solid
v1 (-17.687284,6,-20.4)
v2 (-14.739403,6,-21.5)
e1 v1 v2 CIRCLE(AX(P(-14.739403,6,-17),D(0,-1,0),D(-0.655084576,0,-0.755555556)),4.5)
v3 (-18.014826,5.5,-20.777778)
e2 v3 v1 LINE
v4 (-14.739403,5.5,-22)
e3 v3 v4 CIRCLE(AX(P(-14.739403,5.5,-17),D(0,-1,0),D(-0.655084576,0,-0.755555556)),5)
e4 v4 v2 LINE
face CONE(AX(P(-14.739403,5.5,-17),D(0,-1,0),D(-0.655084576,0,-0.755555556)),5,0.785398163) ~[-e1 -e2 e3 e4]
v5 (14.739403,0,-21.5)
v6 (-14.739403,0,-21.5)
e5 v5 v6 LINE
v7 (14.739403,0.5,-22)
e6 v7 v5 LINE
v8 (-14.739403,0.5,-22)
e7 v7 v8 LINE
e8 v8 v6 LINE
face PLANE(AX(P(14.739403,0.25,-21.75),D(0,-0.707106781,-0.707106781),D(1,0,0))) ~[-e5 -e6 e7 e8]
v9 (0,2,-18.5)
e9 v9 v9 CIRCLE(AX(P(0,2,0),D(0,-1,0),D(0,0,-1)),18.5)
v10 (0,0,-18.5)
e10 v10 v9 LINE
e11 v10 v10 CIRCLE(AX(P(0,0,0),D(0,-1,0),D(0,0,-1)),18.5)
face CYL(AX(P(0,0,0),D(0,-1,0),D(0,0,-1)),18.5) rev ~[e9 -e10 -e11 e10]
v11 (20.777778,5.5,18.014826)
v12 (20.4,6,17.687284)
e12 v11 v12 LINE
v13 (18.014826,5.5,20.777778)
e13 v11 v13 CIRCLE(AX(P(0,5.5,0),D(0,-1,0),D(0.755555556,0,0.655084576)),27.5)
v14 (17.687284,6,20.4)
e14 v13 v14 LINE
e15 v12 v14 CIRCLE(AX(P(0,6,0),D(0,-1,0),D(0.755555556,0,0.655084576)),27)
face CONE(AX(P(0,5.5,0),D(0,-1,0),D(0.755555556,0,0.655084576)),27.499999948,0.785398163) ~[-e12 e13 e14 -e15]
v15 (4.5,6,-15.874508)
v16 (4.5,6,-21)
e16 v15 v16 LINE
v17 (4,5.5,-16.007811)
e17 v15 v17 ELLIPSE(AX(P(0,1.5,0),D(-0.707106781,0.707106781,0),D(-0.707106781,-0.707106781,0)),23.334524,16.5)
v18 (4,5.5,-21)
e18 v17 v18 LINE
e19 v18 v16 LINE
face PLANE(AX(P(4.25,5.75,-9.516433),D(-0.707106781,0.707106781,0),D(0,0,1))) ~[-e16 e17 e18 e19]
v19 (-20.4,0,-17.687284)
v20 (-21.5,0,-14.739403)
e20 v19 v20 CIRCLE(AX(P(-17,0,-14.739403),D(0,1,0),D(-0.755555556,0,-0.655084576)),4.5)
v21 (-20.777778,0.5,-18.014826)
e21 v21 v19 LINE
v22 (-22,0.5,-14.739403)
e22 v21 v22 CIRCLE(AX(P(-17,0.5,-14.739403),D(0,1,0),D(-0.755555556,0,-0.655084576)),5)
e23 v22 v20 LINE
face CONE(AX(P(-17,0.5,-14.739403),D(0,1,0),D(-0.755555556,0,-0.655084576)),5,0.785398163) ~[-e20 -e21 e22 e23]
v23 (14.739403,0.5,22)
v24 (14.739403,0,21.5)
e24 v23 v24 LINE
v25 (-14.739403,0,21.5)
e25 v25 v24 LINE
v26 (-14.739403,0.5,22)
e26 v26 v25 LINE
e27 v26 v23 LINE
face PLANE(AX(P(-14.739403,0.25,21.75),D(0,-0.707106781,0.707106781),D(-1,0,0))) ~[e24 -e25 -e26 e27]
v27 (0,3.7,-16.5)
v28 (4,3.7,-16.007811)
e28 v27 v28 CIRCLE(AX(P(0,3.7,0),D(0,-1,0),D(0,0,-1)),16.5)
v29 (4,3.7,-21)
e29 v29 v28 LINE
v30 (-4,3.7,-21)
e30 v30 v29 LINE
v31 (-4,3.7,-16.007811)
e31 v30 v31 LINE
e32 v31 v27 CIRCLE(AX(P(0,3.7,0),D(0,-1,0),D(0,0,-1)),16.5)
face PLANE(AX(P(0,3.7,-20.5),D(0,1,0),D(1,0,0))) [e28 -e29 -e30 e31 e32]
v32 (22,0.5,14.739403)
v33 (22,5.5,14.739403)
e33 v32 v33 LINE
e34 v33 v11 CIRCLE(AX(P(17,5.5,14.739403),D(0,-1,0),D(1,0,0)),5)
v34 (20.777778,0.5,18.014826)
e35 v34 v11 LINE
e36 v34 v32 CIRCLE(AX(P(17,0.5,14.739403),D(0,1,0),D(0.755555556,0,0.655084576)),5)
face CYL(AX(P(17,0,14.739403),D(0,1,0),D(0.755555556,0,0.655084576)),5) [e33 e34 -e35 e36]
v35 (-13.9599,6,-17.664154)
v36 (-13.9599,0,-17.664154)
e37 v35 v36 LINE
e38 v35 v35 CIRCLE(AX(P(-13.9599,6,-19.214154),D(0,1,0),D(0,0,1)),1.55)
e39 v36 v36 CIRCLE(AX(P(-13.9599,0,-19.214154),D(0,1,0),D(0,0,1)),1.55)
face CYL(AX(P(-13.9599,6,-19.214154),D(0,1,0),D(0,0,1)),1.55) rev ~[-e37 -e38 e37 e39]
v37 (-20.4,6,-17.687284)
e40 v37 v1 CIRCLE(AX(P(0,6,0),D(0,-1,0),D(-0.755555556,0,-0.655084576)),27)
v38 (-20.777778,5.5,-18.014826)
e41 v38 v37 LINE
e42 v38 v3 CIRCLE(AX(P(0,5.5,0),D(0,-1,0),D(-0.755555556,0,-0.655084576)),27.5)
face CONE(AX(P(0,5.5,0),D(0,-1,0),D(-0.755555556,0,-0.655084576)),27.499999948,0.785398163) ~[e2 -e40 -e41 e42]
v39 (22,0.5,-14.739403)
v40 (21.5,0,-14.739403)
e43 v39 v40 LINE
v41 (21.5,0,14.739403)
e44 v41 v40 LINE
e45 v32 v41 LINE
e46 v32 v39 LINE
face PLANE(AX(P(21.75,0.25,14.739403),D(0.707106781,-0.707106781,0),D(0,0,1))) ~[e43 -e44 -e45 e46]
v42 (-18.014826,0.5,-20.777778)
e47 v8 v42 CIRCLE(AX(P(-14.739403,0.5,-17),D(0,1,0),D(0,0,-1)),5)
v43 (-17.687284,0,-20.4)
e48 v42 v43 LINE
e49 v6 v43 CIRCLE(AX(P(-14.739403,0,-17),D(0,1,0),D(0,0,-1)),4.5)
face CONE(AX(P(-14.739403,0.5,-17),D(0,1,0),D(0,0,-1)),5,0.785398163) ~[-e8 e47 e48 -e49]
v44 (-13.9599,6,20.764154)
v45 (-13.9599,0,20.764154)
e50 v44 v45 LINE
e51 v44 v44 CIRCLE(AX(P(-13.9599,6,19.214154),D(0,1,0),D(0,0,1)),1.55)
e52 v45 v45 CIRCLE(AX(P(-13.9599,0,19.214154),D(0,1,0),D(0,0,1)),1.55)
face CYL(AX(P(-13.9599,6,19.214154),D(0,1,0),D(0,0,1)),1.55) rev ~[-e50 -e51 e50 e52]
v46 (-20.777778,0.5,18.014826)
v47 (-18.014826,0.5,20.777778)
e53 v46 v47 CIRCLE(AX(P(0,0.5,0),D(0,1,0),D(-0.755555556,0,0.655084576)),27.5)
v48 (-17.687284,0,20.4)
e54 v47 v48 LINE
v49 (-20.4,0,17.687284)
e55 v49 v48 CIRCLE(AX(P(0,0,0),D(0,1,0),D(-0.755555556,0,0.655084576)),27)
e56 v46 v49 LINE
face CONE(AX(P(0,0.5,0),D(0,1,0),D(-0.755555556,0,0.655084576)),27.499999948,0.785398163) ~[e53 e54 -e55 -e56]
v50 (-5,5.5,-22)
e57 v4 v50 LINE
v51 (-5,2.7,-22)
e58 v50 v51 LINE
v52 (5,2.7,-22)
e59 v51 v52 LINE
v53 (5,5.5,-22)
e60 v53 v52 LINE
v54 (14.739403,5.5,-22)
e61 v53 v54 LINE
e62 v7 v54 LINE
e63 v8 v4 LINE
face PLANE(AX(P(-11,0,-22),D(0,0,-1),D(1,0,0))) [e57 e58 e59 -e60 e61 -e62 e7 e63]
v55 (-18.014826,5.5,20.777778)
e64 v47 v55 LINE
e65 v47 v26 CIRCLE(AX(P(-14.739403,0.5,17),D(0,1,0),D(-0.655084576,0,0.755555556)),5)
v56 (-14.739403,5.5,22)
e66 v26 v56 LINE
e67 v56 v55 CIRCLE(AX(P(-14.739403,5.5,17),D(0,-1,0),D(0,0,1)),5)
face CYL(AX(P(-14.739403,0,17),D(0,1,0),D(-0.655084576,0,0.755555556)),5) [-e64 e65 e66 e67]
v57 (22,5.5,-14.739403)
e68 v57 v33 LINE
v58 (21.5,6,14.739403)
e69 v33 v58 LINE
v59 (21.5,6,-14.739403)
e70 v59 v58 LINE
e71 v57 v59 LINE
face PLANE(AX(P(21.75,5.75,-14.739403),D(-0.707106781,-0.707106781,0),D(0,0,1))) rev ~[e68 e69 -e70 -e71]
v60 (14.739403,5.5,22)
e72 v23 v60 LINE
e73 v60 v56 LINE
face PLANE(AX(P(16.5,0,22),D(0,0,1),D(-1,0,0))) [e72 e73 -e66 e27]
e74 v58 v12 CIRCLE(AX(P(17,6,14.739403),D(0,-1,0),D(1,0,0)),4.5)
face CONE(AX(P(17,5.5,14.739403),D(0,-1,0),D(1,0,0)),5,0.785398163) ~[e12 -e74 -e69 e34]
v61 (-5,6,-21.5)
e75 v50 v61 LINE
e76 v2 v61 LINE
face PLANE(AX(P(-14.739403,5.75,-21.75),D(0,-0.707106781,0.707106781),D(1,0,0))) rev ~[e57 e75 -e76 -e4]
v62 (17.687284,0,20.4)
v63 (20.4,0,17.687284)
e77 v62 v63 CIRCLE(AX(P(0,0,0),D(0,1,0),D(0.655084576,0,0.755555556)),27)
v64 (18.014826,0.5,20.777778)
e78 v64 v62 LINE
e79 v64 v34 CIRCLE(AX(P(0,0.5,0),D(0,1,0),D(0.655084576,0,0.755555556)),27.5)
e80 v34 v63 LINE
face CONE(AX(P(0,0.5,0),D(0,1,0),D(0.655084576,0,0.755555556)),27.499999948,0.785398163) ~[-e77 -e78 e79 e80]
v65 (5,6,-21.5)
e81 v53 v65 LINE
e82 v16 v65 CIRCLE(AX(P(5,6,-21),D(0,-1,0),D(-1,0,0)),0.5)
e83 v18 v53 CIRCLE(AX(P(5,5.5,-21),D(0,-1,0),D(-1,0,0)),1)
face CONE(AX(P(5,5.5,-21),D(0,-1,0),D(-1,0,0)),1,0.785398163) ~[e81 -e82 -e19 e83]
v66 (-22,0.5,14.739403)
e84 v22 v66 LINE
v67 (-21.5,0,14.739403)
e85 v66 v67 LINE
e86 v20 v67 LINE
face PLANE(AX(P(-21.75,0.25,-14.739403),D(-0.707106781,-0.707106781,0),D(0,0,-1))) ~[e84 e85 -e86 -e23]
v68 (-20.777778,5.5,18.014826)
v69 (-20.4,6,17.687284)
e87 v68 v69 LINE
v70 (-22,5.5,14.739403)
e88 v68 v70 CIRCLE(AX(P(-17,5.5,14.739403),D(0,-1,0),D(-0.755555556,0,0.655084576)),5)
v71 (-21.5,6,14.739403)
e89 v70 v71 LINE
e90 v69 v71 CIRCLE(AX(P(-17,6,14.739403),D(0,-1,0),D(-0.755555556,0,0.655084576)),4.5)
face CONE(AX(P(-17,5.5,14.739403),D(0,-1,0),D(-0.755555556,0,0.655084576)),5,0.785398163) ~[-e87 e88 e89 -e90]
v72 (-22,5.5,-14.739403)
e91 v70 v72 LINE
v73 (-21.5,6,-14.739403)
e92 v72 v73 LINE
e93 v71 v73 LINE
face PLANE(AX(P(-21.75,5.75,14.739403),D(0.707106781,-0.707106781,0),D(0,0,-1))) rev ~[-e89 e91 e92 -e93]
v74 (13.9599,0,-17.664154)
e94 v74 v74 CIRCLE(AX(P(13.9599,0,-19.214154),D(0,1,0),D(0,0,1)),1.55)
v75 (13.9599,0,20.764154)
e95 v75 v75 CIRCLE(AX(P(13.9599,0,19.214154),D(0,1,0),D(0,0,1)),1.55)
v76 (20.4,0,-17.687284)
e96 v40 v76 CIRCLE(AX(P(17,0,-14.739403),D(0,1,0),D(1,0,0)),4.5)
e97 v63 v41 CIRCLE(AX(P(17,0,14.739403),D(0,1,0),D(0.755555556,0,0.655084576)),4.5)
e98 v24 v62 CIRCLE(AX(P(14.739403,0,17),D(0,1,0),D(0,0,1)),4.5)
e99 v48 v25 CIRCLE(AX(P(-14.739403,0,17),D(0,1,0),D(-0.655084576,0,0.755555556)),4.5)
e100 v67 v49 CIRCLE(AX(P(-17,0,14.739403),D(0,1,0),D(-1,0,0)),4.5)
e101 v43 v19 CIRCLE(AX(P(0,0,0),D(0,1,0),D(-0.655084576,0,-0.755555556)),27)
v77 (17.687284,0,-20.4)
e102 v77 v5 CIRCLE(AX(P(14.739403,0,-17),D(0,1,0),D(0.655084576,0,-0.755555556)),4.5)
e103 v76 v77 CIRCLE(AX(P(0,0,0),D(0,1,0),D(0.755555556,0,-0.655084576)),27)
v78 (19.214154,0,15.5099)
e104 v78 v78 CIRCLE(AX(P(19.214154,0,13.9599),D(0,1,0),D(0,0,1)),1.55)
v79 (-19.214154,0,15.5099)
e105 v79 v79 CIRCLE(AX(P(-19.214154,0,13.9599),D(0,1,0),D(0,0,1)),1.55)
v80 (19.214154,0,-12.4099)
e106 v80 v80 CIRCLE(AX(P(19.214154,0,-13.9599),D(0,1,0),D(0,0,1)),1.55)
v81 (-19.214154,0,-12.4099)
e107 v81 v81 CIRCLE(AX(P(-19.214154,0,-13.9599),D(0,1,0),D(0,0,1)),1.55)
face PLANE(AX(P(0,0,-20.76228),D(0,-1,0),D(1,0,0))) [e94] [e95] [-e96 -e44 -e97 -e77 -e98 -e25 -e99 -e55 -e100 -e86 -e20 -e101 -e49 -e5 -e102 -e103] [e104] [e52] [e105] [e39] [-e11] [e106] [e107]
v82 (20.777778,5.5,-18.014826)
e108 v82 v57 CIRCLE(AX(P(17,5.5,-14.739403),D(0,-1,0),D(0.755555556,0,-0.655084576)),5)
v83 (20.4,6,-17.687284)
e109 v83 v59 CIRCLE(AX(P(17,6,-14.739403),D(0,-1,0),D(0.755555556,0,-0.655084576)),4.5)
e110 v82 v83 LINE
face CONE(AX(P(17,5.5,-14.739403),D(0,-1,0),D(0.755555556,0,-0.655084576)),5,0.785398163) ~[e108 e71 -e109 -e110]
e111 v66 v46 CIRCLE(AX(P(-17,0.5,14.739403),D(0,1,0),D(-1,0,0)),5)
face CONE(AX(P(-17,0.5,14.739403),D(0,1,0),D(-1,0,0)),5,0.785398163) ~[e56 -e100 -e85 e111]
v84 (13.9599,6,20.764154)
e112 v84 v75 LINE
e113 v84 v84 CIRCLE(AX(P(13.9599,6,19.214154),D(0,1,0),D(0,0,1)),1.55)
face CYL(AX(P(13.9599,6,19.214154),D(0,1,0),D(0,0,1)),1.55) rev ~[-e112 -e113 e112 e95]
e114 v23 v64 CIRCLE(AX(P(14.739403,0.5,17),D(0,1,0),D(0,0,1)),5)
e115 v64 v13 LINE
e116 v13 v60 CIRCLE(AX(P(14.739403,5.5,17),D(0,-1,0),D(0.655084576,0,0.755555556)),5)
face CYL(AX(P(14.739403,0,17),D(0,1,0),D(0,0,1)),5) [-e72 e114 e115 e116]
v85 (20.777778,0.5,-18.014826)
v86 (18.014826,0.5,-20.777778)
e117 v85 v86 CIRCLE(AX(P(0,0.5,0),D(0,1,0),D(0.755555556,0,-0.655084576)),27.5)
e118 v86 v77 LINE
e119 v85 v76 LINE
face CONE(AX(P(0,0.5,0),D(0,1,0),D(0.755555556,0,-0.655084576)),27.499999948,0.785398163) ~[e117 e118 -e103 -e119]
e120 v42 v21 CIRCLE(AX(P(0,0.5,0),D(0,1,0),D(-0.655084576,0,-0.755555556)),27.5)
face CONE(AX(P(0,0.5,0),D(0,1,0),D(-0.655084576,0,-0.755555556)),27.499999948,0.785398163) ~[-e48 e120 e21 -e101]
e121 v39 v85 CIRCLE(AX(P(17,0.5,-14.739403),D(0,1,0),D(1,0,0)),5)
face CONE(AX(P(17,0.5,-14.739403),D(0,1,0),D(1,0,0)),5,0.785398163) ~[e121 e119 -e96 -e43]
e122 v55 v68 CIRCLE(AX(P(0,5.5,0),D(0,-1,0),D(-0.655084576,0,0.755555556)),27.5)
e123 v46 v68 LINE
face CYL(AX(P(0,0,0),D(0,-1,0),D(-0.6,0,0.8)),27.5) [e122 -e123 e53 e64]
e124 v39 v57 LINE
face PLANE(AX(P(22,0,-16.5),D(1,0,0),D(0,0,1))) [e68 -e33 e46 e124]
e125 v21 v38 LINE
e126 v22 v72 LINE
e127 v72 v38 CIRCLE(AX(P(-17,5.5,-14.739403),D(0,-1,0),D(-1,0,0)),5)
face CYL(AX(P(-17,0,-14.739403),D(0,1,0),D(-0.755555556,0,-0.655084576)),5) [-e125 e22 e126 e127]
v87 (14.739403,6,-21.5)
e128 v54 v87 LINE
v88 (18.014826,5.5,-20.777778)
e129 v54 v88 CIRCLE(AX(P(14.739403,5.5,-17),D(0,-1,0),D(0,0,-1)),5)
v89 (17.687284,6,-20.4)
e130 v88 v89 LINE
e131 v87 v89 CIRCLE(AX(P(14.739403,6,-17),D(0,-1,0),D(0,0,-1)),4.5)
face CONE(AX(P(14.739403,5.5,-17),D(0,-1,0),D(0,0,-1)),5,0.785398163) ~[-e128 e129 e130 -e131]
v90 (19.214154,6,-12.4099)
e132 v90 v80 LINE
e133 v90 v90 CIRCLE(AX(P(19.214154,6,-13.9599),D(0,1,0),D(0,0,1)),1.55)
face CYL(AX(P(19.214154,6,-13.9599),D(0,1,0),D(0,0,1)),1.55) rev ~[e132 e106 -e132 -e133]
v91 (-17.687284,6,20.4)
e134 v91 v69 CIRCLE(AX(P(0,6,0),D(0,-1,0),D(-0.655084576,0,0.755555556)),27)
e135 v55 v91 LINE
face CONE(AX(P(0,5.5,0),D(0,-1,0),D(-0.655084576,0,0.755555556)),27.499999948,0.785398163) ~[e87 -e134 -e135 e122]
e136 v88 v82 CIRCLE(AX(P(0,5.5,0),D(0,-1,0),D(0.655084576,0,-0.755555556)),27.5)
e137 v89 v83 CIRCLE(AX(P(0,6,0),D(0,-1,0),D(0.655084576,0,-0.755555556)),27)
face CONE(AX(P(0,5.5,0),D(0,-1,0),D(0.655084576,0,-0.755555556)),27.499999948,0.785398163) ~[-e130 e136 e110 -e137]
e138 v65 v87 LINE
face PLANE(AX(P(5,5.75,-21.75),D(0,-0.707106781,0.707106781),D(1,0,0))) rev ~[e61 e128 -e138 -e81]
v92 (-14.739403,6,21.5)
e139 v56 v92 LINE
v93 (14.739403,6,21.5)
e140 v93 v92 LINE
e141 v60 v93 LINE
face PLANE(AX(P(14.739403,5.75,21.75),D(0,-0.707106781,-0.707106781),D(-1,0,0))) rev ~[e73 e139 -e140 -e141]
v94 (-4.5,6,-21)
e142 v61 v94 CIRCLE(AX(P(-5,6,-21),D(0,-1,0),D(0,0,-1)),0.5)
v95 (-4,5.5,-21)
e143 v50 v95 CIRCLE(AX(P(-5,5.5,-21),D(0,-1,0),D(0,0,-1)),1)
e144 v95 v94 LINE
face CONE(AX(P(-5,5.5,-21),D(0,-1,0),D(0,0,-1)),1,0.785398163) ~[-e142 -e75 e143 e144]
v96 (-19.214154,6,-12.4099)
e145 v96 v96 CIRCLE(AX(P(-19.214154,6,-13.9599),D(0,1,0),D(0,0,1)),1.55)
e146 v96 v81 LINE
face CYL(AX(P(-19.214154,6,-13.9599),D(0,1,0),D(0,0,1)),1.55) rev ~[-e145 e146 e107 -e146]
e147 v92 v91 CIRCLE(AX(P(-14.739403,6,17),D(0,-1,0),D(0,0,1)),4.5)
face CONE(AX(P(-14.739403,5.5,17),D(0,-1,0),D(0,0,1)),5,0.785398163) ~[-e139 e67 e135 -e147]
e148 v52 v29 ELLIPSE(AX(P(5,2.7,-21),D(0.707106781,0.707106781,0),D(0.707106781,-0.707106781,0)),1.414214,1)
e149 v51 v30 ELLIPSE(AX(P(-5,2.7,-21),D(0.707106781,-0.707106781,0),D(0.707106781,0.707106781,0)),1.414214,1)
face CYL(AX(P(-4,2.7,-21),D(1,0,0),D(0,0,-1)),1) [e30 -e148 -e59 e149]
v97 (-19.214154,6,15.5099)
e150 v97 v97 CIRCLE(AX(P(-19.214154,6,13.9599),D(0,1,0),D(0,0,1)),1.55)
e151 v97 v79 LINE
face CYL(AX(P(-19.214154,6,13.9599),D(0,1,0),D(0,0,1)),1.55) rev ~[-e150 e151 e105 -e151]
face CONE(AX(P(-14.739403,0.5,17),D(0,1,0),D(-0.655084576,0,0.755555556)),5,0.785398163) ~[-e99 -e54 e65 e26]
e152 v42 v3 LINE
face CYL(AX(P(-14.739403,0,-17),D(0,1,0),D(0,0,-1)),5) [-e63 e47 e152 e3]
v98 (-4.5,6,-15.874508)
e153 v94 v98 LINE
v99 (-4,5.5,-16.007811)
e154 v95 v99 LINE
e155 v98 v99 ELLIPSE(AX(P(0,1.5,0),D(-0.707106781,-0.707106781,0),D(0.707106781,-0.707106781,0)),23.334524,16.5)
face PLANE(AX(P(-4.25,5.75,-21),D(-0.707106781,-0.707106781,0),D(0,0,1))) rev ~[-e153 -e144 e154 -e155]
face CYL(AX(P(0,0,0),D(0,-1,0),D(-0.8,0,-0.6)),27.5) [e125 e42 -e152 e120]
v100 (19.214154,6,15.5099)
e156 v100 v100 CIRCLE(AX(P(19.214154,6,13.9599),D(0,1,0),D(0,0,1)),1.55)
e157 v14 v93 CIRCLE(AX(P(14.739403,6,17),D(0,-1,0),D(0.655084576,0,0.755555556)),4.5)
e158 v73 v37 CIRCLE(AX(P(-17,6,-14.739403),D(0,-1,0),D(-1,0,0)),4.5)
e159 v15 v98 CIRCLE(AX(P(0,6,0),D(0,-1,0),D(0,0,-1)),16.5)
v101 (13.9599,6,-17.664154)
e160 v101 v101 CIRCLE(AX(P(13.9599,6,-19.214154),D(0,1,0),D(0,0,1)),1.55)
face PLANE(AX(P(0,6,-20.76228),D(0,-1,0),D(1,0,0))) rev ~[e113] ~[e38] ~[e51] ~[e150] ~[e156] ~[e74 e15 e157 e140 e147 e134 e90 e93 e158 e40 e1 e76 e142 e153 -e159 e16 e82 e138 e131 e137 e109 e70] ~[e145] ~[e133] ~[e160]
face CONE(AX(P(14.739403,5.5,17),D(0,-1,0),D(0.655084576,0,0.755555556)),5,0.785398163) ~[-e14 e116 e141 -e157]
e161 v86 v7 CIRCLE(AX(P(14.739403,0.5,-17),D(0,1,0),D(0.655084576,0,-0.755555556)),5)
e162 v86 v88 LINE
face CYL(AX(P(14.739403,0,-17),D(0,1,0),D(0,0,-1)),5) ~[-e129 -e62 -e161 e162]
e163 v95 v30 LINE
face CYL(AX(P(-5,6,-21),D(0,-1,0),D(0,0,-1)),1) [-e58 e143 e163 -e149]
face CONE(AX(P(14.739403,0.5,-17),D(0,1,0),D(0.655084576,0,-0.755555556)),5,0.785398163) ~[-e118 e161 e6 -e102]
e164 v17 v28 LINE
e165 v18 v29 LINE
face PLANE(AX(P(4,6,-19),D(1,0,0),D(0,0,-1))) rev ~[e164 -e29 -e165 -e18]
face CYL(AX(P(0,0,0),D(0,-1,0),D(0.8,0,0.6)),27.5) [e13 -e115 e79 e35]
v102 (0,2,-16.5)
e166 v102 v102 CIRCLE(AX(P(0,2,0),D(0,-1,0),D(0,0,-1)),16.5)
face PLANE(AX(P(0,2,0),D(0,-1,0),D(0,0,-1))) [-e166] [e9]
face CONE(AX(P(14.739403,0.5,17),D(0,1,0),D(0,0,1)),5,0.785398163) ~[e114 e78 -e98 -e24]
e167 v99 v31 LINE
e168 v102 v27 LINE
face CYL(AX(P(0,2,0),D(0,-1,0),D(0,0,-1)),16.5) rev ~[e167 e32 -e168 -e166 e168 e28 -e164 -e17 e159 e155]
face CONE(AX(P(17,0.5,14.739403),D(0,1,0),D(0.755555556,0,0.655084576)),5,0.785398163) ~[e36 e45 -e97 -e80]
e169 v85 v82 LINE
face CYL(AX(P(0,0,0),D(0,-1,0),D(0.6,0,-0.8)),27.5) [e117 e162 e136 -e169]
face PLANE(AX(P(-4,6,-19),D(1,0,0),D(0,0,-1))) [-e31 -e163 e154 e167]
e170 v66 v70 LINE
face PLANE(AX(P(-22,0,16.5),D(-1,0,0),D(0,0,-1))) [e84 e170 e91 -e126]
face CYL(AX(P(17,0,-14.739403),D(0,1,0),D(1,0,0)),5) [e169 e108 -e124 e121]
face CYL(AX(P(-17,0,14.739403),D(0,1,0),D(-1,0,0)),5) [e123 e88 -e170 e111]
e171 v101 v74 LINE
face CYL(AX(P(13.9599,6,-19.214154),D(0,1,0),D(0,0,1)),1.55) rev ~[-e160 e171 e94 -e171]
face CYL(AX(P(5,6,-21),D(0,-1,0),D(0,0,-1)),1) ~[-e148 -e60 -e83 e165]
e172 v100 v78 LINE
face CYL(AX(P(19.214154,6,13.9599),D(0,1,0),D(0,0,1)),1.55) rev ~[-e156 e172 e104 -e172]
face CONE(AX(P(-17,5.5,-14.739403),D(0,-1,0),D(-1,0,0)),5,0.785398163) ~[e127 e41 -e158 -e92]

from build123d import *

# Parameters (mm, degrees)
EXTRUDE_1_DEPTH      = 6
SKETCH_2_R           = 10.5
CUT_EXTRUDE_1_DEPTH  = 10
SKETCH_3_R           = 1.55
CUT_EXTRUDE_2_DEPTH  = 10
SKETCH_7_W           = 16
SKETCH_7_H           = 44.832254491
CUT_EXTRUDE_4_DEPTH  = 10
FILLET_1_R           = 3
FILLET_2_R           = 5
EXTRUDE_START        = -6
EXTRUDE_2_DEPTH      = 6
SKETCH_9_R           = 9.75
CUT_EXTRUDE_5_DEPTH  = 32.685959036
SKETCH_10_R          = 13
CUT_EXTRUDE_6_DEPTH  = 2
SKETCH_11_W          = 8
SKETCH_11_H          = 16
CUT_EXTRUDE_7_DEPTH  = 2.3
FILLET_3_R           = 1
EXTRUDE_3_DEPTH      = 6
SKETCH_13_W          = 8
SKETCH_13_H          = 3
CUT_EXTRUDE_8_DEPTH  = 2.3
FILLET_4_R           = 1
CHAMFER_1_SIZE       = 0.5
EXTRUDE_START_2      = 3
SKETCH_14_R          = 15
SKETCH_14_R_2        = 13
EXTRUDE_4_DEPTH      = 3
CHAMFER_2_SIZE       = 0.5
SKETCH_15_R          = 17.000673468
CUT_EXTRUDE_9_DEPTH  = 23
SKETCH_17_R          = 18.5
CUT_EXTRUDE_11_DEPTH = 2
SKETCH_18_R          = 16.5
CUT_EXTRUDE_12_DEPTH = 14


with BuildPart() as part:
    # 草图1 → 凸台-拉伸1 (new body)
    with BuildSketch(Plane(origin=(0, 0, 0), x_dir=(1, 0, 0), z_dir=(0, 1, 0))):
        with BuildLine():
            Line((-16.5, 22), (16.5, 22))
            ThreePointArc((16.5, 22), (19.445436483, 19.445436483), (22, 16.5))
            Line((22, 16.5), (22, -16.5))
            ThreePointArc((22, -16.5), (19.445436483, -19.445436483), (16.5, -22))
            Line((16.5, -22), (-16.5, -22))
            ThreePointArc((-16.5, -22), (-19.445436483, -19.445436483), (-22, -16.5))
            Line((-22, -16.5), (-22, 16.5))
            ThreePointArc((-22, 16.5), (-19.445436483, 19.445436483), (-16.5, 22))
        make_face()
    extrude(amount=EXTRUDE_1_DEPTH)

    # 草图2 → 切除-拉伸1 (cut)
    with BuildSketch(Plane(origin=(0, 6, 0), x_dir=(1, 0, 0), z_dir=(0, 1, 0))):
        with Locations(Location((0, 0, 0), (0, 0, 270))):
            Circle(SKETCH_2_R)
    extrude(amount=-CUT_EXTRUDE_1_DEPTH, mode=Mode.SUBTRACT)

    # 草图3 → 切除-拉伸2 (cut)
    with BuildSketch(Plane(origin=(0, 6, 0), x_dir=(1, 0, 0), z_dir=(0, 1, 0))):
        with Locations(Location((-19.214153616, 13.959899742, 0), (0, 0, 270))):
            Circle(SKETCH_3_R)
        with Locations(Location((-13.959899742, 19.214153616, 0), (0, 0, 270))):
            Circle(SKETCH_3_R)
        with Locations(Location((19.214153616, 13.959899742, 0), (0, 0, 270))):
            Circle(SKETCH_3_R)
        with Locations(Location((13.959899742, 19.214153616, 0), (0, 0, 270))):
            Circle(SKETCH_3_R)
        with Locations(Location((19.214153616, -13.959899742, 0), (0, 0, 270))):
            Circle(SKETCH_3_R)
        with Locations(Location((13.959899742, -19.214153616, 0), (0, 0, 270))):
            Circle(SKETCH_3_R)
        with Locations(Location((-19.214153616, -13.959899742, 0), (0, 0, 270))):
            Circle(SKETCH_3_R)
        with Locations(Location((-13.959899742, -19.214153616, 0), (0, 0, 270))):
            Circle(SKETCH_3_R)
    extrude(amount=-CUT_EXTRUDE_2_DEPTH, mode=Mode.SUBTRACT)

    # 草图7 → 切除-拉伸4 (cut)
    with BuildSketch(Plane(origin=(0, 6, 0), x_dir=(1, 0, 0), z_dir=(0, 1, 0))):
        with Locations((0, 26.514900262)):
            Rectangle(SKETCH_7_W, SKETCH_7_H)
    extrude(amount=-CUT_EXTRUDE_4_DEPTH, mode=Mode.SUBTRACT)

    # 圆角1
    fillet_1_edges = [part.edges().sort_by_distance(p)[0] for p in [
        (-8, 3, -22),
        (8, 3, -22),
    ]]
    fillet(fillet_1_edges, radius=FILLET_1_R)

    # 圆角2
    fillet_2_edges = [part.edges().sort_by_distance(p)[0] for p in [
        (-16.5, 3, -22),
        (16.5, 3, -22),
        (22, 3, -16.5),
        (22, 3, 16.5),
        (16.5, 3, 22),
        (-16.5, 3, 22),
        (-22, 3, 16.5),
        (-22, 3, -16.5),
    ]]
    fillet(fillet_2_edges, radius=FILLET_2_R)

    # 草图8 → 凸台-拉伸2 (add)
    with BuildSketch(Plane.XZ.offset(EXTRUDE_START)):
        with BuildLine():
            Line((8, -6.800735254), (8, -19))
            Line((8, -19), (-8, -19))
            Line((-8, -19), (-8, -6.800735254))
            ThreePointArc((-8, -6.800735254), (0, 10.5), (8, -6.800735254))
        make_face()
    extrude(amount=EXTRUDE_2_DEPTH)

    # 草图9 → 切除-拉伸5 (cut, through all)
    with BuildSketch(Plane.XZ):
        with Locations(Location((0, 0, 0), (0, 0, 270))):
            Circle(SKETCH_9_R)
    extrude(amount=-CUT_EXTRUDE_5_DEPTH, mode=Mode.SUBTRACT)

    # 草图10 → 切除-拉伸6 (cut)
    with BuildSketch(Plane.XZ):
        with Locations(Location((0, 0, 0), (0, 0, 270))):
            Circle(SKETCH_10_R)
    extrude(amount=-CUT_EXTRUDE_6_DEPTH, mode=Mode.SUBTRACT)

    # 草图11 → 切除-拉伸7 (cut)
    with BuildSketch(Plane(origin=(0, 6, 0), x_dir=(1, 0, 0), z_dir=(0, 1, 0))):
        with Locations((0, 16.891709622)):
            Rectangle(SKETCH_11_W, SKETCH_11_H)
    extrude(amount=-CUT_EXTRUDE_7_DEPTH, mode=Mode.SUBTRACT)

    # 圆角3
    fillet_3_edges = [part.edges().sort_by_distance(p)[0] for p in [
        (4, 4.85, -8.891709622),
        (-4, 4.85, -8.891709622),
        (2.045523305, 3.7, -9.533012871),
    ]]
    fillet(fillet_3_edges, radius=FILLET_3_R)

    # 草图12 → 凸台-拉伸3 (add)
    with BuildSketch(Plane.XZ):
        with BuildLine():
            Line((-11, -22), (11, -22))
            ThreePointArc((11, -22), (8.878679656, -21.121320344), (8, -19))
            Line((8, -19), (-8, -19))
            ThreePointArc((-8, -19), (-8.878679656, -21.121320344), (-11, -22))
        make_face()
    extrude(amount=-EXTRUDE_3_DEPTH)

    # 草图13 → 切除-拉伸8 (cut)
    with BuildSketch(Plane(origin=(0, 6, 0), x_dir=(1, 0, 0), z_dir=(0, 1, 0))):
        with Locations((0, 20.5)):
            Rectangle(SKETCH_13_W, SKETCH_13_H)
    extrude(amount=-CUT_EXTRUDE_8_DEPTH, mode=Mode.SUBTRACT)

    # 圆角4
    fillet_4_edges = [part.edges().sort_by_distance(p)[0] for p in [
        (0, 3.7, -22),
        (-4, 4.85, -22),
        (4, 4.85, -22),
    ]]
    fillet(fillet_4_edges, radius=FILLET_4_R)

    # 倒角1
    chamfer_1_edges = [part.edges().sort_by_distance(p)[0] for p in [
        (9.869701486, 6, -22),
        (0, 0, -22),
        (19.445436483, 0, 19.445436483),
        (19.445436483, 6, 19.445436483),
        (19.445436483, 0, -19.445436483),
        (22, 0, 0),
        (0, 0, 22),
        (-19.445436483, 0, 19.445436483),
        (-22, 0, 0),
        (-19.445436483, 0, -19.445436483),
        (-16.48741772, 0, -21.684489774),
        (-21.684489774, 0, -16.48741772),
        (-21.684489774, 0, 16.48741772),
        (-16.48741772, 0, 21.684489774),
        (16.48741772, 0, -21.684489774),
        (21.684489774, 0, -16.48741772),
        (21.684489774, 0, 16.48741772),
        (16.48741772, 0, 21.684489774),
        (0, 6, 22),
        (-19.445436483, 6, -19.445436483),
        (-22, 6, 0),
        (-19.445436483, 6, 19.445436483),
        (22, 6, 0),
        (19.445436483, 6, -19.445436483),
        (-16.48741772, 6, -21.684489774),
        (-21.684489774, 6, -16.48741772),
        (-21.684489774, 6, 16.48741772),
        (-16.48741772, 6, 21.684489774),
        (16.48741772, 6, -21.684489774),
        (21.684489774, 6, -16.48741772),
        (21.684489774, 6, 16.48741772),
        (16.48741772, 6, 21.684489774),
        (0, 6, 9.75),
        (4, 6, -15.258216578),
        (4.144103897, 6, -8.999285342),
        (-4.144103897, 6, -8.999285342),
        (-4, 6, -15.258216578),
        (-9.869701486, 6, -22),
        (4.292893219, 6, -21.707106781),
        (-4.292893219, 6, -21.707106781),
    ]]
    chamfer(chamfer_1_edges, length=CHAMFER_1_SIZE)

    # 草图14 → 凸台-拉伸4 (add)
    with BuildSketch(Plane.XZ.offset(EXTRUDE_START_2)):
        with Locations(Location((0, 0, 0), (0, 0, 90))):
            Circle(SKETCH_14_R)
        with Locations(Location((0, 0, 0), (0, 0, 270))):
            Circle(SKETCH_14_R_2, mode=Mode.SUBTRACT)
    extrude(amount=-EXTRUDE_4_DEPTH)

    # 倒角2
    chamfer_2_edges = [part.edges().sort_by_distance(p)[0] for p in [
        (0, -3, -15),
        (0, -3, 13),
    ]]
    chamfer(chamfer_2_edges, length=CHAMFER_2_SIZE)

    # 草图15 → 切除-拉伸9 (cut)
    with BuildSketch(Plane.XZ):
        Circle(SKETCH_15_R)
    extrude(amount=CUT_EXTRUDE_9_DEPTH, mode=Mode.SUBTRACT)

    # 草图17 → 切除-拉伸11 (cut)
    with BuildSketch(Plane.XZ):
        with Locations(Location((0, 0, 0), (0, 0, 270))):
            Circle(SKETCH_17_R)
    extrude(amount=-CUT_EXTRUDE_11_DEPTH, mode=Mode.SUBTRACT)

    # 草图18 → 切除-拉伸12 (cut)
    with BuildSketch(Plane.XZ.offset(-2)):
        with Locations(Location((0, 0, 0), (0, 0, 270))):
            Circle(SKETCH_18_R)
    extrude(amount=-CUT_EXTRUDE_12_DEPTH, mode=Mode.SUBTRACT)


solid = part.part
